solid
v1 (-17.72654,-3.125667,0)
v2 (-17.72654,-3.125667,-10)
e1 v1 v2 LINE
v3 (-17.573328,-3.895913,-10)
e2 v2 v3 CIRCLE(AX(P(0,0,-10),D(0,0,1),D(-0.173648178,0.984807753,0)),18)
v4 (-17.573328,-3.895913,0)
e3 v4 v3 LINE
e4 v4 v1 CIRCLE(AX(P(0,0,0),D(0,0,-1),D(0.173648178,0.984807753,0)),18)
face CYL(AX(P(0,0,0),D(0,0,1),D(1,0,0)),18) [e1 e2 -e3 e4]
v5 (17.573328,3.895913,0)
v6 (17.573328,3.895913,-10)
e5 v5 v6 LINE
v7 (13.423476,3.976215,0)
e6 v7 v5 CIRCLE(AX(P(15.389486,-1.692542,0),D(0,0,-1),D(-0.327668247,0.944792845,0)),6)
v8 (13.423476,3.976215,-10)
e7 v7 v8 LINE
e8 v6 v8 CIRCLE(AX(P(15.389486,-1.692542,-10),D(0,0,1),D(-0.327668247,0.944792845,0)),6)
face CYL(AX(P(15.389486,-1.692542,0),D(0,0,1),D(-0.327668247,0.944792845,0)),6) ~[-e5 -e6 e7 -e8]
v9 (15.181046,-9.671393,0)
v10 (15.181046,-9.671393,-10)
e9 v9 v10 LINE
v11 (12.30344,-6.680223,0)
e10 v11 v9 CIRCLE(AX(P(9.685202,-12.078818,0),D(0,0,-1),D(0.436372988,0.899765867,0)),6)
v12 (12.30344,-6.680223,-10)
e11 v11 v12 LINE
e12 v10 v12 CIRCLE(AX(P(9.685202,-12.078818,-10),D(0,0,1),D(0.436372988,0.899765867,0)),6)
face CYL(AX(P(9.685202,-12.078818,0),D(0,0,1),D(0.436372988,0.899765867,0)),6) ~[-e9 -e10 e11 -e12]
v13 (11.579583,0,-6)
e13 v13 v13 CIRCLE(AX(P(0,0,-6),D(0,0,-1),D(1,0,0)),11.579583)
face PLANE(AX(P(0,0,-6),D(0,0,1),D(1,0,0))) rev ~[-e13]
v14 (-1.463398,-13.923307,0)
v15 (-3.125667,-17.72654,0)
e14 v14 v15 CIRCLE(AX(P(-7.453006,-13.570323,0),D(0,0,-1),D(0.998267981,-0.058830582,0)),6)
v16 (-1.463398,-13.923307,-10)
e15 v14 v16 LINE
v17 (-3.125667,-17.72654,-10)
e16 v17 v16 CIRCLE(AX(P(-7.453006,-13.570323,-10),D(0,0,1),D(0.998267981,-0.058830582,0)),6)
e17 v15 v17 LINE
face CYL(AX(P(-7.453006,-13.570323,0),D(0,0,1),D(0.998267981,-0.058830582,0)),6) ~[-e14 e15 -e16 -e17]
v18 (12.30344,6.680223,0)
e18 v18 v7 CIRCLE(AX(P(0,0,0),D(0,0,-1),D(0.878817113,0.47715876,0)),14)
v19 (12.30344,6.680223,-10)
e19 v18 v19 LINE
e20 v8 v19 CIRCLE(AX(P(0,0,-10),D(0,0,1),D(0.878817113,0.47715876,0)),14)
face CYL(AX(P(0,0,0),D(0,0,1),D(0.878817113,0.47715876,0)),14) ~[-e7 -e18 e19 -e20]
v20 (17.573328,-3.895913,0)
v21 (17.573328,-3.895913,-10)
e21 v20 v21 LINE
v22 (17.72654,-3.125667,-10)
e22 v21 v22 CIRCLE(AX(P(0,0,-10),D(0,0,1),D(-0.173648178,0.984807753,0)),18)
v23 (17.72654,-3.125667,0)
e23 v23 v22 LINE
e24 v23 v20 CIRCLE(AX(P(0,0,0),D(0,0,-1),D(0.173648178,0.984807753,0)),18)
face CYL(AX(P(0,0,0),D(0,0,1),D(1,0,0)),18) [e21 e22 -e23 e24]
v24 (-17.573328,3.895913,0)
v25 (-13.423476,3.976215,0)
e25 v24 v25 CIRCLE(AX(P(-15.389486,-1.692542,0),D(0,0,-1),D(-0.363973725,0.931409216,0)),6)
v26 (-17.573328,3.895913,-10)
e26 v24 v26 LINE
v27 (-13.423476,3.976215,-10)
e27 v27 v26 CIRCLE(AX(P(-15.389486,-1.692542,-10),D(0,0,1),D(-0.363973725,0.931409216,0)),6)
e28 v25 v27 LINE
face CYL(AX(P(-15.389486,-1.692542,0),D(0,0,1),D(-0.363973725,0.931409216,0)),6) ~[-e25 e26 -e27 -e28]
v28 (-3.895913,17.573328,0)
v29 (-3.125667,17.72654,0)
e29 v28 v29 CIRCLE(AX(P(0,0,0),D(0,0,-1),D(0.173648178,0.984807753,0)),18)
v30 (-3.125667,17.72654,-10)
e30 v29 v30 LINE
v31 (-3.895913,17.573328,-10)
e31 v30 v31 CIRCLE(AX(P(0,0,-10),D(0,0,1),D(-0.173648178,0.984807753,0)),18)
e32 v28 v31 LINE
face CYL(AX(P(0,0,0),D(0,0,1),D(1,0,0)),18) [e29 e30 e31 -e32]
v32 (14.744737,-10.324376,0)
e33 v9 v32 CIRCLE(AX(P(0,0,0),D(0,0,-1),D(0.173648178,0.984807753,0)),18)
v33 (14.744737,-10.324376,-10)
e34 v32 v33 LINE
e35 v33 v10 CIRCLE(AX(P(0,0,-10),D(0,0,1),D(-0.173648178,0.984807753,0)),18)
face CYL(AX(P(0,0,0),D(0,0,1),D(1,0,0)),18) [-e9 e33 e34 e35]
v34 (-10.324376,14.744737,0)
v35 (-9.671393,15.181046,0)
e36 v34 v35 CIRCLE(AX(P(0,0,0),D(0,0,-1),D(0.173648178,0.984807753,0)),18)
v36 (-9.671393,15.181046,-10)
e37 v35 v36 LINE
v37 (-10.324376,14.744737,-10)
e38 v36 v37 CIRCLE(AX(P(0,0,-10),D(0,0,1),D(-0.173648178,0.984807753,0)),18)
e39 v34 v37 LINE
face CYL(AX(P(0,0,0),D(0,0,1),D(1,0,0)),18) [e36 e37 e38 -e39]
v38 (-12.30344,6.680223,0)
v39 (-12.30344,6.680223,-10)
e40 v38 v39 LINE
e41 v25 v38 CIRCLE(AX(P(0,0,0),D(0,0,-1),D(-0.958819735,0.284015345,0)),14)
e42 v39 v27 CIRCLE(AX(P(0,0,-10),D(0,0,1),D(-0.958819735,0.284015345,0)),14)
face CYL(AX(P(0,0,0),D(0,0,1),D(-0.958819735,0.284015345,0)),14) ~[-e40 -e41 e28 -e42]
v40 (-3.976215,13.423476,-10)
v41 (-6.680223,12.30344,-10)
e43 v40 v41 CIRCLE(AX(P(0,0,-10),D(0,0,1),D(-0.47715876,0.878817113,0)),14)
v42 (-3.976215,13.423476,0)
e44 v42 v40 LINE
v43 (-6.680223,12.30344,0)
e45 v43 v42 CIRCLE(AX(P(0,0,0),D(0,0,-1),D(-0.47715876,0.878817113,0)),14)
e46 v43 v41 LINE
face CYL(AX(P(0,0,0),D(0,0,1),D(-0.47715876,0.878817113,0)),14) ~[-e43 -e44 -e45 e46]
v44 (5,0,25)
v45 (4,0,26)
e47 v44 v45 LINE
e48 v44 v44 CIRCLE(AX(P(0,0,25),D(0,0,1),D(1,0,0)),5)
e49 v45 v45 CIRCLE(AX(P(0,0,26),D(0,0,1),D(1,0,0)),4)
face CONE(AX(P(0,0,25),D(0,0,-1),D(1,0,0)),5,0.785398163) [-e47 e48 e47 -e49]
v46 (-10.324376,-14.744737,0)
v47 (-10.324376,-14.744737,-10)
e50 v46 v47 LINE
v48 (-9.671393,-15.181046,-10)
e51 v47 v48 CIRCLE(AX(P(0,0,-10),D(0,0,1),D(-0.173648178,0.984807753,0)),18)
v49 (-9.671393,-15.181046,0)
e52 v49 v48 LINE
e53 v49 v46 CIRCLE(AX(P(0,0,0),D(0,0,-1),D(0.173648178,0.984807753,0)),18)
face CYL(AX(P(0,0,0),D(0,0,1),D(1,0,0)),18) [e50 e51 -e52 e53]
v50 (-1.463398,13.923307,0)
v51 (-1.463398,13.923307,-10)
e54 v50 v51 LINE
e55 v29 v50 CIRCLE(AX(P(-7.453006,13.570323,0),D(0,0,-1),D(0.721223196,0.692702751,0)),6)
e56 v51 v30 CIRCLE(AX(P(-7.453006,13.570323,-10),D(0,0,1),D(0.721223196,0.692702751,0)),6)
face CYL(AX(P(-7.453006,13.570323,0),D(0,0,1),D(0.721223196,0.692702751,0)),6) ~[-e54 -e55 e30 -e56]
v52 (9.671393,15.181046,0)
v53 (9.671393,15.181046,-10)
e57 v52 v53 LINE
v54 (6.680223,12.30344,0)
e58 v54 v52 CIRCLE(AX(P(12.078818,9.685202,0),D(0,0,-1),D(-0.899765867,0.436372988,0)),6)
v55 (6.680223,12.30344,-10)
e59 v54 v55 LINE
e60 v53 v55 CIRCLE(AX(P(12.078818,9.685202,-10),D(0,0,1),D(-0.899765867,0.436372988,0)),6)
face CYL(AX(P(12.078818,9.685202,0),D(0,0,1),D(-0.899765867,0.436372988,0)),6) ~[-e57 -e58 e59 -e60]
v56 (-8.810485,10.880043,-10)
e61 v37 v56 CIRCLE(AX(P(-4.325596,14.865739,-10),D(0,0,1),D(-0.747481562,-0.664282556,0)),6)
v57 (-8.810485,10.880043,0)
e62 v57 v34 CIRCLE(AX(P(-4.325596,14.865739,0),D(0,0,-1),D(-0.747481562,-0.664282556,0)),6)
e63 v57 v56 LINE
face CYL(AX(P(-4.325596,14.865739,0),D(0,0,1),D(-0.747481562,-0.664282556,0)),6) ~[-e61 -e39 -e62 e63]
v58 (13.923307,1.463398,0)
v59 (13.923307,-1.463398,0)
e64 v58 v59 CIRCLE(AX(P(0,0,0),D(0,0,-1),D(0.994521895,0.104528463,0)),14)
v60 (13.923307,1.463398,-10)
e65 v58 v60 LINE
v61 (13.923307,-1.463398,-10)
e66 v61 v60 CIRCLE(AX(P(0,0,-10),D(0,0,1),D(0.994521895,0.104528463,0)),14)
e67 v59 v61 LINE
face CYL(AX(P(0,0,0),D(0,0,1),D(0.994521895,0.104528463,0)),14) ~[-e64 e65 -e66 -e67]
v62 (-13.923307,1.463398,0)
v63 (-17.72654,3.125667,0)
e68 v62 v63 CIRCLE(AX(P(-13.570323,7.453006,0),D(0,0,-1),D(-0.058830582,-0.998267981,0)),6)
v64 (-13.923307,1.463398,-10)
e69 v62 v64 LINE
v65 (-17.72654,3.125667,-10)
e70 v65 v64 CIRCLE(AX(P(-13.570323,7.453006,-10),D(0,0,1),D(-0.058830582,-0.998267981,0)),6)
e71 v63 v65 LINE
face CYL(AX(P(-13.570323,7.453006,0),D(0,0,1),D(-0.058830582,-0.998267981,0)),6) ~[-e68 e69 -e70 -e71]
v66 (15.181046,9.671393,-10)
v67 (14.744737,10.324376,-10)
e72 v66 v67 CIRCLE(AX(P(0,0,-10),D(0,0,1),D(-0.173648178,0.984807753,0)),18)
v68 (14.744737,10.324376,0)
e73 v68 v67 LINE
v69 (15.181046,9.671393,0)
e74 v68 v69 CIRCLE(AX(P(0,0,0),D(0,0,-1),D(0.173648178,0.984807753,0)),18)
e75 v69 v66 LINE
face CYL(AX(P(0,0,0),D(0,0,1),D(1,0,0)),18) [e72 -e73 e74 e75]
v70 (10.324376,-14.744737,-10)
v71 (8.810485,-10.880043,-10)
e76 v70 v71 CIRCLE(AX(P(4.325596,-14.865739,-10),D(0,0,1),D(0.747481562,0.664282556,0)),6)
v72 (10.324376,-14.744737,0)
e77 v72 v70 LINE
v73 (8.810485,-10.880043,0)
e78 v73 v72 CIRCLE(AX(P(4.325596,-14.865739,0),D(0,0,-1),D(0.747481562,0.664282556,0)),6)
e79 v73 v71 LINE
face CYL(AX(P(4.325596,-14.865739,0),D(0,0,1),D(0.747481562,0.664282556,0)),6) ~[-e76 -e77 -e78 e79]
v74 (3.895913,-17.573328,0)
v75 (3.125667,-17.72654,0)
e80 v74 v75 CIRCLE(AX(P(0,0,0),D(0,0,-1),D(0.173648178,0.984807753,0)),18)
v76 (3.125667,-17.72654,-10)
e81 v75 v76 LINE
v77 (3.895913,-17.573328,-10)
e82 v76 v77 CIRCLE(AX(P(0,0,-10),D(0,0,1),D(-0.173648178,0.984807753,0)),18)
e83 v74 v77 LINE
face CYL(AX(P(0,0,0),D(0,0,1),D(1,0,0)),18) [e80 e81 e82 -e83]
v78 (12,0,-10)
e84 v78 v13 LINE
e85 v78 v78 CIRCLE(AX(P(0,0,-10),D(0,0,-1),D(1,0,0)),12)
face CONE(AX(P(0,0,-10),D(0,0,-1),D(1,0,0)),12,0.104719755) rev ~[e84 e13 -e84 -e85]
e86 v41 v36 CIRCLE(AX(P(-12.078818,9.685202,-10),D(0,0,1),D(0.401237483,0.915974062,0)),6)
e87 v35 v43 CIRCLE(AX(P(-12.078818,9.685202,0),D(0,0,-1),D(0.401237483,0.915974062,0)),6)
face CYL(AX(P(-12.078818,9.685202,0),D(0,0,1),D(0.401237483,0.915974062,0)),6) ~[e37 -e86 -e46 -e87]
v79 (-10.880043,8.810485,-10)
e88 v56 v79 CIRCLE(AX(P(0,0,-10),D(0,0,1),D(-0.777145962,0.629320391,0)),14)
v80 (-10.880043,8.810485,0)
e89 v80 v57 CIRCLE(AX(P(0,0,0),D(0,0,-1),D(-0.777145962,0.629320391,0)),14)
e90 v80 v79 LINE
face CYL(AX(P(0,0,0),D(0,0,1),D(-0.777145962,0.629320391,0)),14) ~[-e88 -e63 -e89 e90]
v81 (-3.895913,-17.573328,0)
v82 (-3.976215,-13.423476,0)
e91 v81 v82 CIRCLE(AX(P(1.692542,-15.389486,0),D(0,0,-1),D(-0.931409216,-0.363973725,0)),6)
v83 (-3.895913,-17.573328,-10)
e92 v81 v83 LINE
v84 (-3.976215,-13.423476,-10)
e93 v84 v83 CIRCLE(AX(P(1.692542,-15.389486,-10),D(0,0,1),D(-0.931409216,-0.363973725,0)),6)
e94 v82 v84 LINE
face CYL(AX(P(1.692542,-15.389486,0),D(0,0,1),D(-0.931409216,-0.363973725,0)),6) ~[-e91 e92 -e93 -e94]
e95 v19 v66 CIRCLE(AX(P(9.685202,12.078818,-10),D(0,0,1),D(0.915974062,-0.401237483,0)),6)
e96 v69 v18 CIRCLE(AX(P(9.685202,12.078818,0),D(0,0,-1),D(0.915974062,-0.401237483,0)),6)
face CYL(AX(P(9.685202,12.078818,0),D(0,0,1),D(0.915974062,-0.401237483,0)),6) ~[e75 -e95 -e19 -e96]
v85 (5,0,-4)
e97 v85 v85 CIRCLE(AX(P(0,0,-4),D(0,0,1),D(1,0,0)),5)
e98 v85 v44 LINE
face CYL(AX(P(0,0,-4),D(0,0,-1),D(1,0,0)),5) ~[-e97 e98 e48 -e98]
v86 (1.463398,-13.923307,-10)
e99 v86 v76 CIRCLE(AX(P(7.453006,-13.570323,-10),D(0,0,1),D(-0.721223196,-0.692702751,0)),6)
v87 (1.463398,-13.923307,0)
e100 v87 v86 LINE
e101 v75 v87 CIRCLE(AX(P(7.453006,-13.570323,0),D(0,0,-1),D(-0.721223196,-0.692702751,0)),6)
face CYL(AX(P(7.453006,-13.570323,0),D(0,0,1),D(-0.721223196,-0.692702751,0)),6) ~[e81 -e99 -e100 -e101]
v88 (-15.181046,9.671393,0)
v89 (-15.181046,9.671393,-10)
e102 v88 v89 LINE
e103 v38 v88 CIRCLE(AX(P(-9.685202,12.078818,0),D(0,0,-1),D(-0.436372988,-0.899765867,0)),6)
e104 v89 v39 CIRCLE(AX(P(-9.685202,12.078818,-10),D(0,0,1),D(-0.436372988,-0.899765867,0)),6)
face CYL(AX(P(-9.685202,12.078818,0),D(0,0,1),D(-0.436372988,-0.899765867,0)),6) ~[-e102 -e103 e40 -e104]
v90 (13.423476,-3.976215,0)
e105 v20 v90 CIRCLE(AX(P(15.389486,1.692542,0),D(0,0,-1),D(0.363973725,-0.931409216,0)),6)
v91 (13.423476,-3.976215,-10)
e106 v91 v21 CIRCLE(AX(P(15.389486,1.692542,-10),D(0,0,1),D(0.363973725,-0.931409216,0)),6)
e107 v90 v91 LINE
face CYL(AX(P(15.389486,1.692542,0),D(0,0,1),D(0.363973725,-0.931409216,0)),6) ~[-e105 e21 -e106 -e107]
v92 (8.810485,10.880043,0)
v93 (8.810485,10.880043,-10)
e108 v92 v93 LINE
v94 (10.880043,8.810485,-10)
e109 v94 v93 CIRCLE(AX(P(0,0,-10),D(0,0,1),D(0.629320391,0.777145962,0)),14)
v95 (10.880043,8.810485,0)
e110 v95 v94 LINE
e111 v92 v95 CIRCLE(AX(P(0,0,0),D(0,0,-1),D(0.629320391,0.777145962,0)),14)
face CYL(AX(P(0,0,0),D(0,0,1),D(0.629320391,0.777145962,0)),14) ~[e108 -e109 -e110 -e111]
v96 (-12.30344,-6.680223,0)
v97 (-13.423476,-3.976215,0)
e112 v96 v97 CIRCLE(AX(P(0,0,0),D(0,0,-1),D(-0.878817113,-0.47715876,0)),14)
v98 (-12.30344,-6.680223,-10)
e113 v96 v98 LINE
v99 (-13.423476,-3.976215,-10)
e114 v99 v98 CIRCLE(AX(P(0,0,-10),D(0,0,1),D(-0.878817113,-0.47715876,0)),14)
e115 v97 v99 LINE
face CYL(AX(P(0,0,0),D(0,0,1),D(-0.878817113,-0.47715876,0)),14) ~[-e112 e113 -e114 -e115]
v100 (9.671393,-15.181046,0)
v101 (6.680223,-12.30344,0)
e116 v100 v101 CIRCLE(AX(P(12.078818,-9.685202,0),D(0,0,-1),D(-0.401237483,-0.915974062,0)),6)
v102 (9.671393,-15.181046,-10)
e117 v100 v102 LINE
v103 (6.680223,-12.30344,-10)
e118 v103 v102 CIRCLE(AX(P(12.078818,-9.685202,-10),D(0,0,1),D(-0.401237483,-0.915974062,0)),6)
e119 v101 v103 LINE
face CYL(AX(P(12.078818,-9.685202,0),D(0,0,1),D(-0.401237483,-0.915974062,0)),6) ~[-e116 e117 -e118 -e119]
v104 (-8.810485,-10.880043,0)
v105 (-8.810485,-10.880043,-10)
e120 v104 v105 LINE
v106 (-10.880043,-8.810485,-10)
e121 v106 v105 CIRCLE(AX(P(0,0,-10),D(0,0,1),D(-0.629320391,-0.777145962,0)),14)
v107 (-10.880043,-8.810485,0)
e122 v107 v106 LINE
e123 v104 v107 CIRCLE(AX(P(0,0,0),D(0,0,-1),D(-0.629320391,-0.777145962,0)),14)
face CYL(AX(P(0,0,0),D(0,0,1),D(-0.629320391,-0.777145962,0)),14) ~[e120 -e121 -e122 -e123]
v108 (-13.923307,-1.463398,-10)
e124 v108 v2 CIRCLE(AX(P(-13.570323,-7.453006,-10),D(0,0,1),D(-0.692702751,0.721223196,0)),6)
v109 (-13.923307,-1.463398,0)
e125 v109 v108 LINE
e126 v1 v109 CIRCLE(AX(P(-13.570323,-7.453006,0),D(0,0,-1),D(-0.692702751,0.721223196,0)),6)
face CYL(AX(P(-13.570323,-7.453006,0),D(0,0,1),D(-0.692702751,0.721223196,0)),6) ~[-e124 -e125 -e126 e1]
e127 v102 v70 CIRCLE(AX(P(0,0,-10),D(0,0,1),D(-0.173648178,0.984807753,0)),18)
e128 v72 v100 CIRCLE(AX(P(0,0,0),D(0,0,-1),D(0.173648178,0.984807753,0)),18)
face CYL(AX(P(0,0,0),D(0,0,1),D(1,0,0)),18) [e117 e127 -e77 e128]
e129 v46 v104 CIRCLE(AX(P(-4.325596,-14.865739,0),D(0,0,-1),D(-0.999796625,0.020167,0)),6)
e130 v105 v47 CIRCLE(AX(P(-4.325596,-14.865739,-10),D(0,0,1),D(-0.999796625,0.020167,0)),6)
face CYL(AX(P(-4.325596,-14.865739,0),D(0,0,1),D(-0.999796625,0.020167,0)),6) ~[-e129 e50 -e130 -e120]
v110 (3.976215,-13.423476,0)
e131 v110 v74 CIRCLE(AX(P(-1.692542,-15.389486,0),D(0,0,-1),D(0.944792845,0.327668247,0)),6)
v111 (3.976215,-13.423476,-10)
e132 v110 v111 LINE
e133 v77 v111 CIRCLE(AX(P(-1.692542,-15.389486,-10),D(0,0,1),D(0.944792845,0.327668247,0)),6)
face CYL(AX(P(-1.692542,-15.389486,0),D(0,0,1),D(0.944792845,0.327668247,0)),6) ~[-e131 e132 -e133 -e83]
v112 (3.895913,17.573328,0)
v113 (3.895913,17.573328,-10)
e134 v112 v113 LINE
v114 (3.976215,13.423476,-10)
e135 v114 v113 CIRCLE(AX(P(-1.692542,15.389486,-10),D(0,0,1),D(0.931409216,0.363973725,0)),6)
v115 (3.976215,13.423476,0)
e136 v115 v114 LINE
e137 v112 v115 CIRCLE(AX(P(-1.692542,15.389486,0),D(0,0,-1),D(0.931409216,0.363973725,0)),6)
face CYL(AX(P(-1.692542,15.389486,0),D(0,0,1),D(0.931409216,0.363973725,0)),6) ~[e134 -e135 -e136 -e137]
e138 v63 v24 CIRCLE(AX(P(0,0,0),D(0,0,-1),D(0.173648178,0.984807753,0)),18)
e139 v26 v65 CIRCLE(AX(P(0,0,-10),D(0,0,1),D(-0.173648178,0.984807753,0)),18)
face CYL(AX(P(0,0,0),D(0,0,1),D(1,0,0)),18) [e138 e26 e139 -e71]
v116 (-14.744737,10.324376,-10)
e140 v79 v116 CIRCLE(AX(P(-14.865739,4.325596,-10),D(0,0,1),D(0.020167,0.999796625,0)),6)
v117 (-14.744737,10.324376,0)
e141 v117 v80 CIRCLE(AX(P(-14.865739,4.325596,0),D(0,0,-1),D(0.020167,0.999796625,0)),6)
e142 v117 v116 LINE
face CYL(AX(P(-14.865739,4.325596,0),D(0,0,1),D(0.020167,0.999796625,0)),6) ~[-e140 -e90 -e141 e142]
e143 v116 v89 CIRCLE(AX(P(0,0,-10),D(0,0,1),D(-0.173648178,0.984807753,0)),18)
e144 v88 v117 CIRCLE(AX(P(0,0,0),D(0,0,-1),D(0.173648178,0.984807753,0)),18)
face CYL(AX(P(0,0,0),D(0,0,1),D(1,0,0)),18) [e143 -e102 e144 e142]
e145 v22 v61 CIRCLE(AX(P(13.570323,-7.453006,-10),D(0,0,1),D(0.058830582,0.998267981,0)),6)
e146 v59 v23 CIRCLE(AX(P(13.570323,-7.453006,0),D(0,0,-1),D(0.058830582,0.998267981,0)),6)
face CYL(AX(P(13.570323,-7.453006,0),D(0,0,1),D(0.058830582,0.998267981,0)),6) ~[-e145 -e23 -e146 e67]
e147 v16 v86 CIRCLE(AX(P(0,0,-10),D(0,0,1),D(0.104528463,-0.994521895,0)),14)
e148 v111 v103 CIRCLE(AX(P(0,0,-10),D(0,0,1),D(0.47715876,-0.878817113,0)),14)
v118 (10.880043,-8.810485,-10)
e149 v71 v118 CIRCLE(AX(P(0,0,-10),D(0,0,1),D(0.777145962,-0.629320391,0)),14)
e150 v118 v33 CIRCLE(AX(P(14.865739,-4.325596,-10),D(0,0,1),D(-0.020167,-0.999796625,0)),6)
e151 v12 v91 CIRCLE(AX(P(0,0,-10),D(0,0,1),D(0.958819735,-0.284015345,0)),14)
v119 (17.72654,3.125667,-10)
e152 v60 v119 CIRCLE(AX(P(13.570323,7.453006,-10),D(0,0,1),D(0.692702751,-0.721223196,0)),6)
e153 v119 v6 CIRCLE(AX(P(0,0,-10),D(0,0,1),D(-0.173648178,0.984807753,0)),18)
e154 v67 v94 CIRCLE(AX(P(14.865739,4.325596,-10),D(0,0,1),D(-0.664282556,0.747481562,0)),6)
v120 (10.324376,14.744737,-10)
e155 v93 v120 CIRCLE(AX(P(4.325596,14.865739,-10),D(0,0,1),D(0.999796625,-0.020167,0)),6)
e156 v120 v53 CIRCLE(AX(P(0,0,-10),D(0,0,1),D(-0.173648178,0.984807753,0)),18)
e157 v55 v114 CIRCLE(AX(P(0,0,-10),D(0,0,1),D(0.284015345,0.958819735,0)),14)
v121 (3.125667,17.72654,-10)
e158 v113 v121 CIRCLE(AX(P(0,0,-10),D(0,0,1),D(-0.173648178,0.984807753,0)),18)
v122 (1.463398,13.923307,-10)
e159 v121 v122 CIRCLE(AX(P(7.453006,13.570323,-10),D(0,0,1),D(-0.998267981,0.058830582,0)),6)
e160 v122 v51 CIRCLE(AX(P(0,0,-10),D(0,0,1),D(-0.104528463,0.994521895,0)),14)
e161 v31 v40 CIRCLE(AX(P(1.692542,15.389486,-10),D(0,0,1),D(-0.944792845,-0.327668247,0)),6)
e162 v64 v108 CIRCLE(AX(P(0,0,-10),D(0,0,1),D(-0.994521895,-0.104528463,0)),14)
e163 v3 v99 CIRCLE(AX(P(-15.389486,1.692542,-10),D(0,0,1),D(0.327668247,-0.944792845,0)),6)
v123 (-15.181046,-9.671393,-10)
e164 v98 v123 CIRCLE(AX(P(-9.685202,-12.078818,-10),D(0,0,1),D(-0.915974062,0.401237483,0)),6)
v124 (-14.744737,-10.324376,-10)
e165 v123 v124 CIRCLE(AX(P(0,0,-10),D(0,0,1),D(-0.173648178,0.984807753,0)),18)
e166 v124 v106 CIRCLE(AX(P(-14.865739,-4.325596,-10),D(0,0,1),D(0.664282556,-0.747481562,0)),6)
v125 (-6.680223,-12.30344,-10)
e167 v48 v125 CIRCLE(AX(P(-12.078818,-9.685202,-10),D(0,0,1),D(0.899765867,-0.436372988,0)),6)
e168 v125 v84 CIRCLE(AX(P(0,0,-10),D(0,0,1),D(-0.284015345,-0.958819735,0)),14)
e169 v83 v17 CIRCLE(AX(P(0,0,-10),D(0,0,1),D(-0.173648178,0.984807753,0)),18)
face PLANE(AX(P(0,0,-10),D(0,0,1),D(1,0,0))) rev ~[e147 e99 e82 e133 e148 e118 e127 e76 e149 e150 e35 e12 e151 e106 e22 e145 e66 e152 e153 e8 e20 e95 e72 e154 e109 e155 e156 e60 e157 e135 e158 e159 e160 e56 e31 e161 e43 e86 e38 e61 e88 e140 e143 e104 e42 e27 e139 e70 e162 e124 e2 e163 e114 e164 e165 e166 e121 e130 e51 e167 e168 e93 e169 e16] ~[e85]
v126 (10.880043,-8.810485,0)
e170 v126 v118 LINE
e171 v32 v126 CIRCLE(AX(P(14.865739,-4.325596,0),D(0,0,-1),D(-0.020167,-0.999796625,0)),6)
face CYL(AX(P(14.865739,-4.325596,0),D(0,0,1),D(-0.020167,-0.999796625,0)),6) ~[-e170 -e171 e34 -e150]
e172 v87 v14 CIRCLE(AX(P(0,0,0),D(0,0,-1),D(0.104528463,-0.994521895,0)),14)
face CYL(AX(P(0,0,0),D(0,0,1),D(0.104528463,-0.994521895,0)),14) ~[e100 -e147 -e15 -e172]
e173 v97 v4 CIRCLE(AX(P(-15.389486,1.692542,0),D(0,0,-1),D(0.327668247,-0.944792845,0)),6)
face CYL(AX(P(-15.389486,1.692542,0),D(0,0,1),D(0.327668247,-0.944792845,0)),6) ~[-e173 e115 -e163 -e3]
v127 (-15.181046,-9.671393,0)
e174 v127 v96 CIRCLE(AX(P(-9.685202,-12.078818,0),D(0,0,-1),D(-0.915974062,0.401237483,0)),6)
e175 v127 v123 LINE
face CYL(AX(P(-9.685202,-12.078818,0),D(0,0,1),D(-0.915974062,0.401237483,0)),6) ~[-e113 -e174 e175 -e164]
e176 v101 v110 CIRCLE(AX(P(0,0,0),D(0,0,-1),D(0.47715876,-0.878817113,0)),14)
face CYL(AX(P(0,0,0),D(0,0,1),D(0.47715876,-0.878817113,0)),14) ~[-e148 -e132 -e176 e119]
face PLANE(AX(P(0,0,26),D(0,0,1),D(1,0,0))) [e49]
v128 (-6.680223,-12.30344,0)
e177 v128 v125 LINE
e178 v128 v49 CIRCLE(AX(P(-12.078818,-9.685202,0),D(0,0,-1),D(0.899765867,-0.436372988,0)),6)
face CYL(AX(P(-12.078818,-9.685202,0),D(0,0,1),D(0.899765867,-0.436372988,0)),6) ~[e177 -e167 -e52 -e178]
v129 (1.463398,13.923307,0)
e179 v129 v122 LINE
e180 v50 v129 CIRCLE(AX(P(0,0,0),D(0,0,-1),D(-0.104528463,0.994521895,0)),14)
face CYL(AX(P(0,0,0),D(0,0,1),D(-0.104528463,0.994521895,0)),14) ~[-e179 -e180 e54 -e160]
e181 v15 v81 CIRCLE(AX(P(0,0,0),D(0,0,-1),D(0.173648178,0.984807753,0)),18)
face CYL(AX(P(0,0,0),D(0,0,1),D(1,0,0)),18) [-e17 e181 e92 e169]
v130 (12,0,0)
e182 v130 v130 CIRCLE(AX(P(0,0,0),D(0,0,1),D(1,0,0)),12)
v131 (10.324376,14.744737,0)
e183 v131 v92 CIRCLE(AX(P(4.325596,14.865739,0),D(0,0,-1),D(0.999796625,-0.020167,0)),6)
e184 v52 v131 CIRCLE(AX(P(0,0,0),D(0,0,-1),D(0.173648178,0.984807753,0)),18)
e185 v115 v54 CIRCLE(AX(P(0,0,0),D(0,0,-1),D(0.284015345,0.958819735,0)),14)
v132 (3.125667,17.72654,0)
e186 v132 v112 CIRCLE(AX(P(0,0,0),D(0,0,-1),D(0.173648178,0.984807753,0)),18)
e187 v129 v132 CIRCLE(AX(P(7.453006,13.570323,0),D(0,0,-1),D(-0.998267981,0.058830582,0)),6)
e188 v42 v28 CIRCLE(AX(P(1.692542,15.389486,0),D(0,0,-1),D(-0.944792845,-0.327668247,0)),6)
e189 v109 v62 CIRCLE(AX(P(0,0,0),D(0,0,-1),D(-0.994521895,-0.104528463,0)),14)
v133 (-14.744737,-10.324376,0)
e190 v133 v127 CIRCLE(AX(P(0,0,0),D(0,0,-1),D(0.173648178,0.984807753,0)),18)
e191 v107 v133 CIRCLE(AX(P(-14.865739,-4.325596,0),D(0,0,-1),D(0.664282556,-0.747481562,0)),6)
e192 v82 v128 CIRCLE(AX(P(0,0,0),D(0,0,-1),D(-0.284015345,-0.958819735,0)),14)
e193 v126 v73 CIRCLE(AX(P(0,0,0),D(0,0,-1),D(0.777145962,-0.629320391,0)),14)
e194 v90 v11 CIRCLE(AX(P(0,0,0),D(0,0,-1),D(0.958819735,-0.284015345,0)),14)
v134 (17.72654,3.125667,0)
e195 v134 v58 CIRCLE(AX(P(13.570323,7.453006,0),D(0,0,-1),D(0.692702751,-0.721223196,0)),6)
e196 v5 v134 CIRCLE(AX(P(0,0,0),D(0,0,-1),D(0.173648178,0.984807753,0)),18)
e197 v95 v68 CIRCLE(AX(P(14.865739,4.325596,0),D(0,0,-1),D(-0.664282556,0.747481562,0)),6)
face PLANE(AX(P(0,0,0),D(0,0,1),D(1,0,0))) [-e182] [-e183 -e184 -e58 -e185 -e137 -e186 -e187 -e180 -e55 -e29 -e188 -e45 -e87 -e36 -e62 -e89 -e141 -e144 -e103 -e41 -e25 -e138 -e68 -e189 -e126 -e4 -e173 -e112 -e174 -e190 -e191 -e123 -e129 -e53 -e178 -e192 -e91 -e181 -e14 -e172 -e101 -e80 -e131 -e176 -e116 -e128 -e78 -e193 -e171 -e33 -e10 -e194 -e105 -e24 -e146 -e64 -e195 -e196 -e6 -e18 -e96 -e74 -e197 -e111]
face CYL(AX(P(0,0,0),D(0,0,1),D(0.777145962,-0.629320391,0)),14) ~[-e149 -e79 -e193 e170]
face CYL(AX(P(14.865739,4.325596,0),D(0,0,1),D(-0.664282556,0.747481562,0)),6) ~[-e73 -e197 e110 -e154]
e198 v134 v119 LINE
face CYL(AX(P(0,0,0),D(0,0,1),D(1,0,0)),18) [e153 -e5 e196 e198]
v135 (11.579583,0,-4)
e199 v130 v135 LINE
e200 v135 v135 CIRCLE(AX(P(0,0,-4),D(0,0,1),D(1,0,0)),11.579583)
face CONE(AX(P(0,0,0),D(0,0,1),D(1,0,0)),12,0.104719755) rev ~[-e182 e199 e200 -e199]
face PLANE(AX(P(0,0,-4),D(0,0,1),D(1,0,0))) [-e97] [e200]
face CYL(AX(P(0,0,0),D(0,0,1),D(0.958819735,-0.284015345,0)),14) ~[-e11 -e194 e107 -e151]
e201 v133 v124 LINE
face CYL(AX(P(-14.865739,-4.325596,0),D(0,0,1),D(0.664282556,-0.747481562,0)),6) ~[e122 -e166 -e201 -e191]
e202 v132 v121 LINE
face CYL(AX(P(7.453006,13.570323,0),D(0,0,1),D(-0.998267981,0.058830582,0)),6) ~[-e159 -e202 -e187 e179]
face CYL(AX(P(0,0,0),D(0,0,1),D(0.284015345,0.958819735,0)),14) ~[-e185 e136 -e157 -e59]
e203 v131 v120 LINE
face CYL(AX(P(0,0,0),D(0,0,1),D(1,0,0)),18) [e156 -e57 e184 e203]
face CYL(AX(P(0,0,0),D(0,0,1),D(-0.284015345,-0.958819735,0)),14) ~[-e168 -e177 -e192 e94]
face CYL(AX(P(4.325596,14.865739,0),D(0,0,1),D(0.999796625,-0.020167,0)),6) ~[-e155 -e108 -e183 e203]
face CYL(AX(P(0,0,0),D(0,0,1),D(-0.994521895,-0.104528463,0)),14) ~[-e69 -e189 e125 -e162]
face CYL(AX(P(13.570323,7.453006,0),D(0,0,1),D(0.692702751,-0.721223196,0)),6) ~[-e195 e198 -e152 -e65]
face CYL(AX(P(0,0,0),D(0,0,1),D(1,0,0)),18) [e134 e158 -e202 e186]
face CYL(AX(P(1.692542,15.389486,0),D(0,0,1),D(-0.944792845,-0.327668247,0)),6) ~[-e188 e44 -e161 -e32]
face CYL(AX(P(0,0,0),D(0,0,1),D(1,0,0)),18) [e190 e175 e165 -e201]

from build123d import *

# Parameters (mm, degrees)
SKETCH_1_R               = 18
EXTRUDE_1_DEPTH          = 10
CUT_EXTRUDE_1_DEPTH      = 28.349588662
PATTERN_CIRCULAR_1_COUNT = 16
SKETCH_3_R               = 12
CUT_EXTRUDE_2_DEPTH      = 4
CUT_EXTRUDE_2_DRAFT      = -6
CUT_EXTRUDE_START        = -10
SKETCH_3_2_R             = 12
CUT_EXTRUDE_3_DEPTH      = 4
CUT_EXTRUDE_3_TAPER      = 6
SKETCH_5_R               = 5
EXTRUDE_2_DEPTH          = 30
CHAMFER_1_SIZE           = 1


with BuildPart() as part:
    # Эскиз1 → Бобышка-Вытянуть1 (new body)
    with BuildSketch(Plane.XY):
        Circle(SKETCH_1_R)
    extrude(amount=-EXTRUDE_1_DEPTH)

    # Эскиз2 → Вырез-Вытянуть1 (cut, through all)
    with BuildSketch(Plane.XY):
        with BuildLine():
            ThreePointArc((3.125667198, 17.726539554), (0, 18), (-3.125667198, 17.726539554))
            ThreePointArc((-3.125667198, 17.726539554), (-1.955189123, 15.973239081), (-1.463398486, 13.923306535))
            ThreePointArc((-1.463398486, 13.923306535), (0, 14), (1.463398486, 13.923306535))
            ThreePointArc((1.463398486, 13.923306535), (1.955189123, 15.973239081), (3.125667198, 17.726539554))
        make_face()
    cut_extrude_1 = extrude(amount=-CUT_EXTRUDE_1_DEPTH, mode=Mode.SUBTRACT)

    # Круговой массив1: Вырез-Вытянуть1 ×16 about axis
    pattern_circular_1_axis = Axis((0, 0, 0), (0, 0, 1))
    for i in range(1, PATTERN_CIRCULAR_1_COUNT):
        add(cut_extrude_1.rotate(pattern_circular_1_axis, i * 360 / PATTERN_CIRCULAR_1_COUNT), mode=Mode.SUBTRACT)


with BuildPart() as cut_extrude_2_tool:
    # Эскиз3 → Вырез-Вытянуть2 (with draft: the straight prism first)
    with BuildSketch(Plane.XY):
        Circle(SKETCH_3_R)
    extrude(amount=-CUT_EXTRUDE_2_DEPTH)
    # Вырез-Вытянуть2: the draft: its side faces are tilted about the plane it starts from
    cut_extrude_2_sides = [cut_extrude_2_tool.faces().sort_by_distance(p)[0] for p in [
        (-12, 0, -2),
    ]]
    draft(cut_extrude_2_sides, Plane.XY, CUT_EXTRUDE_2_DRAFT)


with BuildPart() as part_1:
    add(part.part)

    # Вырез-Вытянуть2: cut by cut_extrude_2_tool
    add(cut_extrude_2_tool.part, mode=Mode.SUBTRACT)

    # Эскиз3<2> → Вырез-Вытянуть3 (cut)
    with BuildSketch(Plane.XY.offset(CUT_EXTRUDE_START)):
        Circle(SKETCH_3_2_R)
    extrude(amount=CUT_EXTRUDE_3_DEPTH, taper=CUT_EXTRUDE_3_TAPER, mode=Mode.SUBTRACT)

    # Эскиз5 → Бобышка-Вытянуть2 (add)
    with BuildSketch(Plane.XY.offset(-4)):
        Circle(SKETCH_5_R)
    extrude(amount=EXTRUDE_2_DEPTH)

    # Фаска1
    chamfer_1_edges = [part_1.edges().sort_by_distance(p)[0] for p in [
        (-5, 0, 26),
    ]]
    chamfer(chamfer_1_edges, length=CHAMFER_1_SIZE)


solid = part_1.part
